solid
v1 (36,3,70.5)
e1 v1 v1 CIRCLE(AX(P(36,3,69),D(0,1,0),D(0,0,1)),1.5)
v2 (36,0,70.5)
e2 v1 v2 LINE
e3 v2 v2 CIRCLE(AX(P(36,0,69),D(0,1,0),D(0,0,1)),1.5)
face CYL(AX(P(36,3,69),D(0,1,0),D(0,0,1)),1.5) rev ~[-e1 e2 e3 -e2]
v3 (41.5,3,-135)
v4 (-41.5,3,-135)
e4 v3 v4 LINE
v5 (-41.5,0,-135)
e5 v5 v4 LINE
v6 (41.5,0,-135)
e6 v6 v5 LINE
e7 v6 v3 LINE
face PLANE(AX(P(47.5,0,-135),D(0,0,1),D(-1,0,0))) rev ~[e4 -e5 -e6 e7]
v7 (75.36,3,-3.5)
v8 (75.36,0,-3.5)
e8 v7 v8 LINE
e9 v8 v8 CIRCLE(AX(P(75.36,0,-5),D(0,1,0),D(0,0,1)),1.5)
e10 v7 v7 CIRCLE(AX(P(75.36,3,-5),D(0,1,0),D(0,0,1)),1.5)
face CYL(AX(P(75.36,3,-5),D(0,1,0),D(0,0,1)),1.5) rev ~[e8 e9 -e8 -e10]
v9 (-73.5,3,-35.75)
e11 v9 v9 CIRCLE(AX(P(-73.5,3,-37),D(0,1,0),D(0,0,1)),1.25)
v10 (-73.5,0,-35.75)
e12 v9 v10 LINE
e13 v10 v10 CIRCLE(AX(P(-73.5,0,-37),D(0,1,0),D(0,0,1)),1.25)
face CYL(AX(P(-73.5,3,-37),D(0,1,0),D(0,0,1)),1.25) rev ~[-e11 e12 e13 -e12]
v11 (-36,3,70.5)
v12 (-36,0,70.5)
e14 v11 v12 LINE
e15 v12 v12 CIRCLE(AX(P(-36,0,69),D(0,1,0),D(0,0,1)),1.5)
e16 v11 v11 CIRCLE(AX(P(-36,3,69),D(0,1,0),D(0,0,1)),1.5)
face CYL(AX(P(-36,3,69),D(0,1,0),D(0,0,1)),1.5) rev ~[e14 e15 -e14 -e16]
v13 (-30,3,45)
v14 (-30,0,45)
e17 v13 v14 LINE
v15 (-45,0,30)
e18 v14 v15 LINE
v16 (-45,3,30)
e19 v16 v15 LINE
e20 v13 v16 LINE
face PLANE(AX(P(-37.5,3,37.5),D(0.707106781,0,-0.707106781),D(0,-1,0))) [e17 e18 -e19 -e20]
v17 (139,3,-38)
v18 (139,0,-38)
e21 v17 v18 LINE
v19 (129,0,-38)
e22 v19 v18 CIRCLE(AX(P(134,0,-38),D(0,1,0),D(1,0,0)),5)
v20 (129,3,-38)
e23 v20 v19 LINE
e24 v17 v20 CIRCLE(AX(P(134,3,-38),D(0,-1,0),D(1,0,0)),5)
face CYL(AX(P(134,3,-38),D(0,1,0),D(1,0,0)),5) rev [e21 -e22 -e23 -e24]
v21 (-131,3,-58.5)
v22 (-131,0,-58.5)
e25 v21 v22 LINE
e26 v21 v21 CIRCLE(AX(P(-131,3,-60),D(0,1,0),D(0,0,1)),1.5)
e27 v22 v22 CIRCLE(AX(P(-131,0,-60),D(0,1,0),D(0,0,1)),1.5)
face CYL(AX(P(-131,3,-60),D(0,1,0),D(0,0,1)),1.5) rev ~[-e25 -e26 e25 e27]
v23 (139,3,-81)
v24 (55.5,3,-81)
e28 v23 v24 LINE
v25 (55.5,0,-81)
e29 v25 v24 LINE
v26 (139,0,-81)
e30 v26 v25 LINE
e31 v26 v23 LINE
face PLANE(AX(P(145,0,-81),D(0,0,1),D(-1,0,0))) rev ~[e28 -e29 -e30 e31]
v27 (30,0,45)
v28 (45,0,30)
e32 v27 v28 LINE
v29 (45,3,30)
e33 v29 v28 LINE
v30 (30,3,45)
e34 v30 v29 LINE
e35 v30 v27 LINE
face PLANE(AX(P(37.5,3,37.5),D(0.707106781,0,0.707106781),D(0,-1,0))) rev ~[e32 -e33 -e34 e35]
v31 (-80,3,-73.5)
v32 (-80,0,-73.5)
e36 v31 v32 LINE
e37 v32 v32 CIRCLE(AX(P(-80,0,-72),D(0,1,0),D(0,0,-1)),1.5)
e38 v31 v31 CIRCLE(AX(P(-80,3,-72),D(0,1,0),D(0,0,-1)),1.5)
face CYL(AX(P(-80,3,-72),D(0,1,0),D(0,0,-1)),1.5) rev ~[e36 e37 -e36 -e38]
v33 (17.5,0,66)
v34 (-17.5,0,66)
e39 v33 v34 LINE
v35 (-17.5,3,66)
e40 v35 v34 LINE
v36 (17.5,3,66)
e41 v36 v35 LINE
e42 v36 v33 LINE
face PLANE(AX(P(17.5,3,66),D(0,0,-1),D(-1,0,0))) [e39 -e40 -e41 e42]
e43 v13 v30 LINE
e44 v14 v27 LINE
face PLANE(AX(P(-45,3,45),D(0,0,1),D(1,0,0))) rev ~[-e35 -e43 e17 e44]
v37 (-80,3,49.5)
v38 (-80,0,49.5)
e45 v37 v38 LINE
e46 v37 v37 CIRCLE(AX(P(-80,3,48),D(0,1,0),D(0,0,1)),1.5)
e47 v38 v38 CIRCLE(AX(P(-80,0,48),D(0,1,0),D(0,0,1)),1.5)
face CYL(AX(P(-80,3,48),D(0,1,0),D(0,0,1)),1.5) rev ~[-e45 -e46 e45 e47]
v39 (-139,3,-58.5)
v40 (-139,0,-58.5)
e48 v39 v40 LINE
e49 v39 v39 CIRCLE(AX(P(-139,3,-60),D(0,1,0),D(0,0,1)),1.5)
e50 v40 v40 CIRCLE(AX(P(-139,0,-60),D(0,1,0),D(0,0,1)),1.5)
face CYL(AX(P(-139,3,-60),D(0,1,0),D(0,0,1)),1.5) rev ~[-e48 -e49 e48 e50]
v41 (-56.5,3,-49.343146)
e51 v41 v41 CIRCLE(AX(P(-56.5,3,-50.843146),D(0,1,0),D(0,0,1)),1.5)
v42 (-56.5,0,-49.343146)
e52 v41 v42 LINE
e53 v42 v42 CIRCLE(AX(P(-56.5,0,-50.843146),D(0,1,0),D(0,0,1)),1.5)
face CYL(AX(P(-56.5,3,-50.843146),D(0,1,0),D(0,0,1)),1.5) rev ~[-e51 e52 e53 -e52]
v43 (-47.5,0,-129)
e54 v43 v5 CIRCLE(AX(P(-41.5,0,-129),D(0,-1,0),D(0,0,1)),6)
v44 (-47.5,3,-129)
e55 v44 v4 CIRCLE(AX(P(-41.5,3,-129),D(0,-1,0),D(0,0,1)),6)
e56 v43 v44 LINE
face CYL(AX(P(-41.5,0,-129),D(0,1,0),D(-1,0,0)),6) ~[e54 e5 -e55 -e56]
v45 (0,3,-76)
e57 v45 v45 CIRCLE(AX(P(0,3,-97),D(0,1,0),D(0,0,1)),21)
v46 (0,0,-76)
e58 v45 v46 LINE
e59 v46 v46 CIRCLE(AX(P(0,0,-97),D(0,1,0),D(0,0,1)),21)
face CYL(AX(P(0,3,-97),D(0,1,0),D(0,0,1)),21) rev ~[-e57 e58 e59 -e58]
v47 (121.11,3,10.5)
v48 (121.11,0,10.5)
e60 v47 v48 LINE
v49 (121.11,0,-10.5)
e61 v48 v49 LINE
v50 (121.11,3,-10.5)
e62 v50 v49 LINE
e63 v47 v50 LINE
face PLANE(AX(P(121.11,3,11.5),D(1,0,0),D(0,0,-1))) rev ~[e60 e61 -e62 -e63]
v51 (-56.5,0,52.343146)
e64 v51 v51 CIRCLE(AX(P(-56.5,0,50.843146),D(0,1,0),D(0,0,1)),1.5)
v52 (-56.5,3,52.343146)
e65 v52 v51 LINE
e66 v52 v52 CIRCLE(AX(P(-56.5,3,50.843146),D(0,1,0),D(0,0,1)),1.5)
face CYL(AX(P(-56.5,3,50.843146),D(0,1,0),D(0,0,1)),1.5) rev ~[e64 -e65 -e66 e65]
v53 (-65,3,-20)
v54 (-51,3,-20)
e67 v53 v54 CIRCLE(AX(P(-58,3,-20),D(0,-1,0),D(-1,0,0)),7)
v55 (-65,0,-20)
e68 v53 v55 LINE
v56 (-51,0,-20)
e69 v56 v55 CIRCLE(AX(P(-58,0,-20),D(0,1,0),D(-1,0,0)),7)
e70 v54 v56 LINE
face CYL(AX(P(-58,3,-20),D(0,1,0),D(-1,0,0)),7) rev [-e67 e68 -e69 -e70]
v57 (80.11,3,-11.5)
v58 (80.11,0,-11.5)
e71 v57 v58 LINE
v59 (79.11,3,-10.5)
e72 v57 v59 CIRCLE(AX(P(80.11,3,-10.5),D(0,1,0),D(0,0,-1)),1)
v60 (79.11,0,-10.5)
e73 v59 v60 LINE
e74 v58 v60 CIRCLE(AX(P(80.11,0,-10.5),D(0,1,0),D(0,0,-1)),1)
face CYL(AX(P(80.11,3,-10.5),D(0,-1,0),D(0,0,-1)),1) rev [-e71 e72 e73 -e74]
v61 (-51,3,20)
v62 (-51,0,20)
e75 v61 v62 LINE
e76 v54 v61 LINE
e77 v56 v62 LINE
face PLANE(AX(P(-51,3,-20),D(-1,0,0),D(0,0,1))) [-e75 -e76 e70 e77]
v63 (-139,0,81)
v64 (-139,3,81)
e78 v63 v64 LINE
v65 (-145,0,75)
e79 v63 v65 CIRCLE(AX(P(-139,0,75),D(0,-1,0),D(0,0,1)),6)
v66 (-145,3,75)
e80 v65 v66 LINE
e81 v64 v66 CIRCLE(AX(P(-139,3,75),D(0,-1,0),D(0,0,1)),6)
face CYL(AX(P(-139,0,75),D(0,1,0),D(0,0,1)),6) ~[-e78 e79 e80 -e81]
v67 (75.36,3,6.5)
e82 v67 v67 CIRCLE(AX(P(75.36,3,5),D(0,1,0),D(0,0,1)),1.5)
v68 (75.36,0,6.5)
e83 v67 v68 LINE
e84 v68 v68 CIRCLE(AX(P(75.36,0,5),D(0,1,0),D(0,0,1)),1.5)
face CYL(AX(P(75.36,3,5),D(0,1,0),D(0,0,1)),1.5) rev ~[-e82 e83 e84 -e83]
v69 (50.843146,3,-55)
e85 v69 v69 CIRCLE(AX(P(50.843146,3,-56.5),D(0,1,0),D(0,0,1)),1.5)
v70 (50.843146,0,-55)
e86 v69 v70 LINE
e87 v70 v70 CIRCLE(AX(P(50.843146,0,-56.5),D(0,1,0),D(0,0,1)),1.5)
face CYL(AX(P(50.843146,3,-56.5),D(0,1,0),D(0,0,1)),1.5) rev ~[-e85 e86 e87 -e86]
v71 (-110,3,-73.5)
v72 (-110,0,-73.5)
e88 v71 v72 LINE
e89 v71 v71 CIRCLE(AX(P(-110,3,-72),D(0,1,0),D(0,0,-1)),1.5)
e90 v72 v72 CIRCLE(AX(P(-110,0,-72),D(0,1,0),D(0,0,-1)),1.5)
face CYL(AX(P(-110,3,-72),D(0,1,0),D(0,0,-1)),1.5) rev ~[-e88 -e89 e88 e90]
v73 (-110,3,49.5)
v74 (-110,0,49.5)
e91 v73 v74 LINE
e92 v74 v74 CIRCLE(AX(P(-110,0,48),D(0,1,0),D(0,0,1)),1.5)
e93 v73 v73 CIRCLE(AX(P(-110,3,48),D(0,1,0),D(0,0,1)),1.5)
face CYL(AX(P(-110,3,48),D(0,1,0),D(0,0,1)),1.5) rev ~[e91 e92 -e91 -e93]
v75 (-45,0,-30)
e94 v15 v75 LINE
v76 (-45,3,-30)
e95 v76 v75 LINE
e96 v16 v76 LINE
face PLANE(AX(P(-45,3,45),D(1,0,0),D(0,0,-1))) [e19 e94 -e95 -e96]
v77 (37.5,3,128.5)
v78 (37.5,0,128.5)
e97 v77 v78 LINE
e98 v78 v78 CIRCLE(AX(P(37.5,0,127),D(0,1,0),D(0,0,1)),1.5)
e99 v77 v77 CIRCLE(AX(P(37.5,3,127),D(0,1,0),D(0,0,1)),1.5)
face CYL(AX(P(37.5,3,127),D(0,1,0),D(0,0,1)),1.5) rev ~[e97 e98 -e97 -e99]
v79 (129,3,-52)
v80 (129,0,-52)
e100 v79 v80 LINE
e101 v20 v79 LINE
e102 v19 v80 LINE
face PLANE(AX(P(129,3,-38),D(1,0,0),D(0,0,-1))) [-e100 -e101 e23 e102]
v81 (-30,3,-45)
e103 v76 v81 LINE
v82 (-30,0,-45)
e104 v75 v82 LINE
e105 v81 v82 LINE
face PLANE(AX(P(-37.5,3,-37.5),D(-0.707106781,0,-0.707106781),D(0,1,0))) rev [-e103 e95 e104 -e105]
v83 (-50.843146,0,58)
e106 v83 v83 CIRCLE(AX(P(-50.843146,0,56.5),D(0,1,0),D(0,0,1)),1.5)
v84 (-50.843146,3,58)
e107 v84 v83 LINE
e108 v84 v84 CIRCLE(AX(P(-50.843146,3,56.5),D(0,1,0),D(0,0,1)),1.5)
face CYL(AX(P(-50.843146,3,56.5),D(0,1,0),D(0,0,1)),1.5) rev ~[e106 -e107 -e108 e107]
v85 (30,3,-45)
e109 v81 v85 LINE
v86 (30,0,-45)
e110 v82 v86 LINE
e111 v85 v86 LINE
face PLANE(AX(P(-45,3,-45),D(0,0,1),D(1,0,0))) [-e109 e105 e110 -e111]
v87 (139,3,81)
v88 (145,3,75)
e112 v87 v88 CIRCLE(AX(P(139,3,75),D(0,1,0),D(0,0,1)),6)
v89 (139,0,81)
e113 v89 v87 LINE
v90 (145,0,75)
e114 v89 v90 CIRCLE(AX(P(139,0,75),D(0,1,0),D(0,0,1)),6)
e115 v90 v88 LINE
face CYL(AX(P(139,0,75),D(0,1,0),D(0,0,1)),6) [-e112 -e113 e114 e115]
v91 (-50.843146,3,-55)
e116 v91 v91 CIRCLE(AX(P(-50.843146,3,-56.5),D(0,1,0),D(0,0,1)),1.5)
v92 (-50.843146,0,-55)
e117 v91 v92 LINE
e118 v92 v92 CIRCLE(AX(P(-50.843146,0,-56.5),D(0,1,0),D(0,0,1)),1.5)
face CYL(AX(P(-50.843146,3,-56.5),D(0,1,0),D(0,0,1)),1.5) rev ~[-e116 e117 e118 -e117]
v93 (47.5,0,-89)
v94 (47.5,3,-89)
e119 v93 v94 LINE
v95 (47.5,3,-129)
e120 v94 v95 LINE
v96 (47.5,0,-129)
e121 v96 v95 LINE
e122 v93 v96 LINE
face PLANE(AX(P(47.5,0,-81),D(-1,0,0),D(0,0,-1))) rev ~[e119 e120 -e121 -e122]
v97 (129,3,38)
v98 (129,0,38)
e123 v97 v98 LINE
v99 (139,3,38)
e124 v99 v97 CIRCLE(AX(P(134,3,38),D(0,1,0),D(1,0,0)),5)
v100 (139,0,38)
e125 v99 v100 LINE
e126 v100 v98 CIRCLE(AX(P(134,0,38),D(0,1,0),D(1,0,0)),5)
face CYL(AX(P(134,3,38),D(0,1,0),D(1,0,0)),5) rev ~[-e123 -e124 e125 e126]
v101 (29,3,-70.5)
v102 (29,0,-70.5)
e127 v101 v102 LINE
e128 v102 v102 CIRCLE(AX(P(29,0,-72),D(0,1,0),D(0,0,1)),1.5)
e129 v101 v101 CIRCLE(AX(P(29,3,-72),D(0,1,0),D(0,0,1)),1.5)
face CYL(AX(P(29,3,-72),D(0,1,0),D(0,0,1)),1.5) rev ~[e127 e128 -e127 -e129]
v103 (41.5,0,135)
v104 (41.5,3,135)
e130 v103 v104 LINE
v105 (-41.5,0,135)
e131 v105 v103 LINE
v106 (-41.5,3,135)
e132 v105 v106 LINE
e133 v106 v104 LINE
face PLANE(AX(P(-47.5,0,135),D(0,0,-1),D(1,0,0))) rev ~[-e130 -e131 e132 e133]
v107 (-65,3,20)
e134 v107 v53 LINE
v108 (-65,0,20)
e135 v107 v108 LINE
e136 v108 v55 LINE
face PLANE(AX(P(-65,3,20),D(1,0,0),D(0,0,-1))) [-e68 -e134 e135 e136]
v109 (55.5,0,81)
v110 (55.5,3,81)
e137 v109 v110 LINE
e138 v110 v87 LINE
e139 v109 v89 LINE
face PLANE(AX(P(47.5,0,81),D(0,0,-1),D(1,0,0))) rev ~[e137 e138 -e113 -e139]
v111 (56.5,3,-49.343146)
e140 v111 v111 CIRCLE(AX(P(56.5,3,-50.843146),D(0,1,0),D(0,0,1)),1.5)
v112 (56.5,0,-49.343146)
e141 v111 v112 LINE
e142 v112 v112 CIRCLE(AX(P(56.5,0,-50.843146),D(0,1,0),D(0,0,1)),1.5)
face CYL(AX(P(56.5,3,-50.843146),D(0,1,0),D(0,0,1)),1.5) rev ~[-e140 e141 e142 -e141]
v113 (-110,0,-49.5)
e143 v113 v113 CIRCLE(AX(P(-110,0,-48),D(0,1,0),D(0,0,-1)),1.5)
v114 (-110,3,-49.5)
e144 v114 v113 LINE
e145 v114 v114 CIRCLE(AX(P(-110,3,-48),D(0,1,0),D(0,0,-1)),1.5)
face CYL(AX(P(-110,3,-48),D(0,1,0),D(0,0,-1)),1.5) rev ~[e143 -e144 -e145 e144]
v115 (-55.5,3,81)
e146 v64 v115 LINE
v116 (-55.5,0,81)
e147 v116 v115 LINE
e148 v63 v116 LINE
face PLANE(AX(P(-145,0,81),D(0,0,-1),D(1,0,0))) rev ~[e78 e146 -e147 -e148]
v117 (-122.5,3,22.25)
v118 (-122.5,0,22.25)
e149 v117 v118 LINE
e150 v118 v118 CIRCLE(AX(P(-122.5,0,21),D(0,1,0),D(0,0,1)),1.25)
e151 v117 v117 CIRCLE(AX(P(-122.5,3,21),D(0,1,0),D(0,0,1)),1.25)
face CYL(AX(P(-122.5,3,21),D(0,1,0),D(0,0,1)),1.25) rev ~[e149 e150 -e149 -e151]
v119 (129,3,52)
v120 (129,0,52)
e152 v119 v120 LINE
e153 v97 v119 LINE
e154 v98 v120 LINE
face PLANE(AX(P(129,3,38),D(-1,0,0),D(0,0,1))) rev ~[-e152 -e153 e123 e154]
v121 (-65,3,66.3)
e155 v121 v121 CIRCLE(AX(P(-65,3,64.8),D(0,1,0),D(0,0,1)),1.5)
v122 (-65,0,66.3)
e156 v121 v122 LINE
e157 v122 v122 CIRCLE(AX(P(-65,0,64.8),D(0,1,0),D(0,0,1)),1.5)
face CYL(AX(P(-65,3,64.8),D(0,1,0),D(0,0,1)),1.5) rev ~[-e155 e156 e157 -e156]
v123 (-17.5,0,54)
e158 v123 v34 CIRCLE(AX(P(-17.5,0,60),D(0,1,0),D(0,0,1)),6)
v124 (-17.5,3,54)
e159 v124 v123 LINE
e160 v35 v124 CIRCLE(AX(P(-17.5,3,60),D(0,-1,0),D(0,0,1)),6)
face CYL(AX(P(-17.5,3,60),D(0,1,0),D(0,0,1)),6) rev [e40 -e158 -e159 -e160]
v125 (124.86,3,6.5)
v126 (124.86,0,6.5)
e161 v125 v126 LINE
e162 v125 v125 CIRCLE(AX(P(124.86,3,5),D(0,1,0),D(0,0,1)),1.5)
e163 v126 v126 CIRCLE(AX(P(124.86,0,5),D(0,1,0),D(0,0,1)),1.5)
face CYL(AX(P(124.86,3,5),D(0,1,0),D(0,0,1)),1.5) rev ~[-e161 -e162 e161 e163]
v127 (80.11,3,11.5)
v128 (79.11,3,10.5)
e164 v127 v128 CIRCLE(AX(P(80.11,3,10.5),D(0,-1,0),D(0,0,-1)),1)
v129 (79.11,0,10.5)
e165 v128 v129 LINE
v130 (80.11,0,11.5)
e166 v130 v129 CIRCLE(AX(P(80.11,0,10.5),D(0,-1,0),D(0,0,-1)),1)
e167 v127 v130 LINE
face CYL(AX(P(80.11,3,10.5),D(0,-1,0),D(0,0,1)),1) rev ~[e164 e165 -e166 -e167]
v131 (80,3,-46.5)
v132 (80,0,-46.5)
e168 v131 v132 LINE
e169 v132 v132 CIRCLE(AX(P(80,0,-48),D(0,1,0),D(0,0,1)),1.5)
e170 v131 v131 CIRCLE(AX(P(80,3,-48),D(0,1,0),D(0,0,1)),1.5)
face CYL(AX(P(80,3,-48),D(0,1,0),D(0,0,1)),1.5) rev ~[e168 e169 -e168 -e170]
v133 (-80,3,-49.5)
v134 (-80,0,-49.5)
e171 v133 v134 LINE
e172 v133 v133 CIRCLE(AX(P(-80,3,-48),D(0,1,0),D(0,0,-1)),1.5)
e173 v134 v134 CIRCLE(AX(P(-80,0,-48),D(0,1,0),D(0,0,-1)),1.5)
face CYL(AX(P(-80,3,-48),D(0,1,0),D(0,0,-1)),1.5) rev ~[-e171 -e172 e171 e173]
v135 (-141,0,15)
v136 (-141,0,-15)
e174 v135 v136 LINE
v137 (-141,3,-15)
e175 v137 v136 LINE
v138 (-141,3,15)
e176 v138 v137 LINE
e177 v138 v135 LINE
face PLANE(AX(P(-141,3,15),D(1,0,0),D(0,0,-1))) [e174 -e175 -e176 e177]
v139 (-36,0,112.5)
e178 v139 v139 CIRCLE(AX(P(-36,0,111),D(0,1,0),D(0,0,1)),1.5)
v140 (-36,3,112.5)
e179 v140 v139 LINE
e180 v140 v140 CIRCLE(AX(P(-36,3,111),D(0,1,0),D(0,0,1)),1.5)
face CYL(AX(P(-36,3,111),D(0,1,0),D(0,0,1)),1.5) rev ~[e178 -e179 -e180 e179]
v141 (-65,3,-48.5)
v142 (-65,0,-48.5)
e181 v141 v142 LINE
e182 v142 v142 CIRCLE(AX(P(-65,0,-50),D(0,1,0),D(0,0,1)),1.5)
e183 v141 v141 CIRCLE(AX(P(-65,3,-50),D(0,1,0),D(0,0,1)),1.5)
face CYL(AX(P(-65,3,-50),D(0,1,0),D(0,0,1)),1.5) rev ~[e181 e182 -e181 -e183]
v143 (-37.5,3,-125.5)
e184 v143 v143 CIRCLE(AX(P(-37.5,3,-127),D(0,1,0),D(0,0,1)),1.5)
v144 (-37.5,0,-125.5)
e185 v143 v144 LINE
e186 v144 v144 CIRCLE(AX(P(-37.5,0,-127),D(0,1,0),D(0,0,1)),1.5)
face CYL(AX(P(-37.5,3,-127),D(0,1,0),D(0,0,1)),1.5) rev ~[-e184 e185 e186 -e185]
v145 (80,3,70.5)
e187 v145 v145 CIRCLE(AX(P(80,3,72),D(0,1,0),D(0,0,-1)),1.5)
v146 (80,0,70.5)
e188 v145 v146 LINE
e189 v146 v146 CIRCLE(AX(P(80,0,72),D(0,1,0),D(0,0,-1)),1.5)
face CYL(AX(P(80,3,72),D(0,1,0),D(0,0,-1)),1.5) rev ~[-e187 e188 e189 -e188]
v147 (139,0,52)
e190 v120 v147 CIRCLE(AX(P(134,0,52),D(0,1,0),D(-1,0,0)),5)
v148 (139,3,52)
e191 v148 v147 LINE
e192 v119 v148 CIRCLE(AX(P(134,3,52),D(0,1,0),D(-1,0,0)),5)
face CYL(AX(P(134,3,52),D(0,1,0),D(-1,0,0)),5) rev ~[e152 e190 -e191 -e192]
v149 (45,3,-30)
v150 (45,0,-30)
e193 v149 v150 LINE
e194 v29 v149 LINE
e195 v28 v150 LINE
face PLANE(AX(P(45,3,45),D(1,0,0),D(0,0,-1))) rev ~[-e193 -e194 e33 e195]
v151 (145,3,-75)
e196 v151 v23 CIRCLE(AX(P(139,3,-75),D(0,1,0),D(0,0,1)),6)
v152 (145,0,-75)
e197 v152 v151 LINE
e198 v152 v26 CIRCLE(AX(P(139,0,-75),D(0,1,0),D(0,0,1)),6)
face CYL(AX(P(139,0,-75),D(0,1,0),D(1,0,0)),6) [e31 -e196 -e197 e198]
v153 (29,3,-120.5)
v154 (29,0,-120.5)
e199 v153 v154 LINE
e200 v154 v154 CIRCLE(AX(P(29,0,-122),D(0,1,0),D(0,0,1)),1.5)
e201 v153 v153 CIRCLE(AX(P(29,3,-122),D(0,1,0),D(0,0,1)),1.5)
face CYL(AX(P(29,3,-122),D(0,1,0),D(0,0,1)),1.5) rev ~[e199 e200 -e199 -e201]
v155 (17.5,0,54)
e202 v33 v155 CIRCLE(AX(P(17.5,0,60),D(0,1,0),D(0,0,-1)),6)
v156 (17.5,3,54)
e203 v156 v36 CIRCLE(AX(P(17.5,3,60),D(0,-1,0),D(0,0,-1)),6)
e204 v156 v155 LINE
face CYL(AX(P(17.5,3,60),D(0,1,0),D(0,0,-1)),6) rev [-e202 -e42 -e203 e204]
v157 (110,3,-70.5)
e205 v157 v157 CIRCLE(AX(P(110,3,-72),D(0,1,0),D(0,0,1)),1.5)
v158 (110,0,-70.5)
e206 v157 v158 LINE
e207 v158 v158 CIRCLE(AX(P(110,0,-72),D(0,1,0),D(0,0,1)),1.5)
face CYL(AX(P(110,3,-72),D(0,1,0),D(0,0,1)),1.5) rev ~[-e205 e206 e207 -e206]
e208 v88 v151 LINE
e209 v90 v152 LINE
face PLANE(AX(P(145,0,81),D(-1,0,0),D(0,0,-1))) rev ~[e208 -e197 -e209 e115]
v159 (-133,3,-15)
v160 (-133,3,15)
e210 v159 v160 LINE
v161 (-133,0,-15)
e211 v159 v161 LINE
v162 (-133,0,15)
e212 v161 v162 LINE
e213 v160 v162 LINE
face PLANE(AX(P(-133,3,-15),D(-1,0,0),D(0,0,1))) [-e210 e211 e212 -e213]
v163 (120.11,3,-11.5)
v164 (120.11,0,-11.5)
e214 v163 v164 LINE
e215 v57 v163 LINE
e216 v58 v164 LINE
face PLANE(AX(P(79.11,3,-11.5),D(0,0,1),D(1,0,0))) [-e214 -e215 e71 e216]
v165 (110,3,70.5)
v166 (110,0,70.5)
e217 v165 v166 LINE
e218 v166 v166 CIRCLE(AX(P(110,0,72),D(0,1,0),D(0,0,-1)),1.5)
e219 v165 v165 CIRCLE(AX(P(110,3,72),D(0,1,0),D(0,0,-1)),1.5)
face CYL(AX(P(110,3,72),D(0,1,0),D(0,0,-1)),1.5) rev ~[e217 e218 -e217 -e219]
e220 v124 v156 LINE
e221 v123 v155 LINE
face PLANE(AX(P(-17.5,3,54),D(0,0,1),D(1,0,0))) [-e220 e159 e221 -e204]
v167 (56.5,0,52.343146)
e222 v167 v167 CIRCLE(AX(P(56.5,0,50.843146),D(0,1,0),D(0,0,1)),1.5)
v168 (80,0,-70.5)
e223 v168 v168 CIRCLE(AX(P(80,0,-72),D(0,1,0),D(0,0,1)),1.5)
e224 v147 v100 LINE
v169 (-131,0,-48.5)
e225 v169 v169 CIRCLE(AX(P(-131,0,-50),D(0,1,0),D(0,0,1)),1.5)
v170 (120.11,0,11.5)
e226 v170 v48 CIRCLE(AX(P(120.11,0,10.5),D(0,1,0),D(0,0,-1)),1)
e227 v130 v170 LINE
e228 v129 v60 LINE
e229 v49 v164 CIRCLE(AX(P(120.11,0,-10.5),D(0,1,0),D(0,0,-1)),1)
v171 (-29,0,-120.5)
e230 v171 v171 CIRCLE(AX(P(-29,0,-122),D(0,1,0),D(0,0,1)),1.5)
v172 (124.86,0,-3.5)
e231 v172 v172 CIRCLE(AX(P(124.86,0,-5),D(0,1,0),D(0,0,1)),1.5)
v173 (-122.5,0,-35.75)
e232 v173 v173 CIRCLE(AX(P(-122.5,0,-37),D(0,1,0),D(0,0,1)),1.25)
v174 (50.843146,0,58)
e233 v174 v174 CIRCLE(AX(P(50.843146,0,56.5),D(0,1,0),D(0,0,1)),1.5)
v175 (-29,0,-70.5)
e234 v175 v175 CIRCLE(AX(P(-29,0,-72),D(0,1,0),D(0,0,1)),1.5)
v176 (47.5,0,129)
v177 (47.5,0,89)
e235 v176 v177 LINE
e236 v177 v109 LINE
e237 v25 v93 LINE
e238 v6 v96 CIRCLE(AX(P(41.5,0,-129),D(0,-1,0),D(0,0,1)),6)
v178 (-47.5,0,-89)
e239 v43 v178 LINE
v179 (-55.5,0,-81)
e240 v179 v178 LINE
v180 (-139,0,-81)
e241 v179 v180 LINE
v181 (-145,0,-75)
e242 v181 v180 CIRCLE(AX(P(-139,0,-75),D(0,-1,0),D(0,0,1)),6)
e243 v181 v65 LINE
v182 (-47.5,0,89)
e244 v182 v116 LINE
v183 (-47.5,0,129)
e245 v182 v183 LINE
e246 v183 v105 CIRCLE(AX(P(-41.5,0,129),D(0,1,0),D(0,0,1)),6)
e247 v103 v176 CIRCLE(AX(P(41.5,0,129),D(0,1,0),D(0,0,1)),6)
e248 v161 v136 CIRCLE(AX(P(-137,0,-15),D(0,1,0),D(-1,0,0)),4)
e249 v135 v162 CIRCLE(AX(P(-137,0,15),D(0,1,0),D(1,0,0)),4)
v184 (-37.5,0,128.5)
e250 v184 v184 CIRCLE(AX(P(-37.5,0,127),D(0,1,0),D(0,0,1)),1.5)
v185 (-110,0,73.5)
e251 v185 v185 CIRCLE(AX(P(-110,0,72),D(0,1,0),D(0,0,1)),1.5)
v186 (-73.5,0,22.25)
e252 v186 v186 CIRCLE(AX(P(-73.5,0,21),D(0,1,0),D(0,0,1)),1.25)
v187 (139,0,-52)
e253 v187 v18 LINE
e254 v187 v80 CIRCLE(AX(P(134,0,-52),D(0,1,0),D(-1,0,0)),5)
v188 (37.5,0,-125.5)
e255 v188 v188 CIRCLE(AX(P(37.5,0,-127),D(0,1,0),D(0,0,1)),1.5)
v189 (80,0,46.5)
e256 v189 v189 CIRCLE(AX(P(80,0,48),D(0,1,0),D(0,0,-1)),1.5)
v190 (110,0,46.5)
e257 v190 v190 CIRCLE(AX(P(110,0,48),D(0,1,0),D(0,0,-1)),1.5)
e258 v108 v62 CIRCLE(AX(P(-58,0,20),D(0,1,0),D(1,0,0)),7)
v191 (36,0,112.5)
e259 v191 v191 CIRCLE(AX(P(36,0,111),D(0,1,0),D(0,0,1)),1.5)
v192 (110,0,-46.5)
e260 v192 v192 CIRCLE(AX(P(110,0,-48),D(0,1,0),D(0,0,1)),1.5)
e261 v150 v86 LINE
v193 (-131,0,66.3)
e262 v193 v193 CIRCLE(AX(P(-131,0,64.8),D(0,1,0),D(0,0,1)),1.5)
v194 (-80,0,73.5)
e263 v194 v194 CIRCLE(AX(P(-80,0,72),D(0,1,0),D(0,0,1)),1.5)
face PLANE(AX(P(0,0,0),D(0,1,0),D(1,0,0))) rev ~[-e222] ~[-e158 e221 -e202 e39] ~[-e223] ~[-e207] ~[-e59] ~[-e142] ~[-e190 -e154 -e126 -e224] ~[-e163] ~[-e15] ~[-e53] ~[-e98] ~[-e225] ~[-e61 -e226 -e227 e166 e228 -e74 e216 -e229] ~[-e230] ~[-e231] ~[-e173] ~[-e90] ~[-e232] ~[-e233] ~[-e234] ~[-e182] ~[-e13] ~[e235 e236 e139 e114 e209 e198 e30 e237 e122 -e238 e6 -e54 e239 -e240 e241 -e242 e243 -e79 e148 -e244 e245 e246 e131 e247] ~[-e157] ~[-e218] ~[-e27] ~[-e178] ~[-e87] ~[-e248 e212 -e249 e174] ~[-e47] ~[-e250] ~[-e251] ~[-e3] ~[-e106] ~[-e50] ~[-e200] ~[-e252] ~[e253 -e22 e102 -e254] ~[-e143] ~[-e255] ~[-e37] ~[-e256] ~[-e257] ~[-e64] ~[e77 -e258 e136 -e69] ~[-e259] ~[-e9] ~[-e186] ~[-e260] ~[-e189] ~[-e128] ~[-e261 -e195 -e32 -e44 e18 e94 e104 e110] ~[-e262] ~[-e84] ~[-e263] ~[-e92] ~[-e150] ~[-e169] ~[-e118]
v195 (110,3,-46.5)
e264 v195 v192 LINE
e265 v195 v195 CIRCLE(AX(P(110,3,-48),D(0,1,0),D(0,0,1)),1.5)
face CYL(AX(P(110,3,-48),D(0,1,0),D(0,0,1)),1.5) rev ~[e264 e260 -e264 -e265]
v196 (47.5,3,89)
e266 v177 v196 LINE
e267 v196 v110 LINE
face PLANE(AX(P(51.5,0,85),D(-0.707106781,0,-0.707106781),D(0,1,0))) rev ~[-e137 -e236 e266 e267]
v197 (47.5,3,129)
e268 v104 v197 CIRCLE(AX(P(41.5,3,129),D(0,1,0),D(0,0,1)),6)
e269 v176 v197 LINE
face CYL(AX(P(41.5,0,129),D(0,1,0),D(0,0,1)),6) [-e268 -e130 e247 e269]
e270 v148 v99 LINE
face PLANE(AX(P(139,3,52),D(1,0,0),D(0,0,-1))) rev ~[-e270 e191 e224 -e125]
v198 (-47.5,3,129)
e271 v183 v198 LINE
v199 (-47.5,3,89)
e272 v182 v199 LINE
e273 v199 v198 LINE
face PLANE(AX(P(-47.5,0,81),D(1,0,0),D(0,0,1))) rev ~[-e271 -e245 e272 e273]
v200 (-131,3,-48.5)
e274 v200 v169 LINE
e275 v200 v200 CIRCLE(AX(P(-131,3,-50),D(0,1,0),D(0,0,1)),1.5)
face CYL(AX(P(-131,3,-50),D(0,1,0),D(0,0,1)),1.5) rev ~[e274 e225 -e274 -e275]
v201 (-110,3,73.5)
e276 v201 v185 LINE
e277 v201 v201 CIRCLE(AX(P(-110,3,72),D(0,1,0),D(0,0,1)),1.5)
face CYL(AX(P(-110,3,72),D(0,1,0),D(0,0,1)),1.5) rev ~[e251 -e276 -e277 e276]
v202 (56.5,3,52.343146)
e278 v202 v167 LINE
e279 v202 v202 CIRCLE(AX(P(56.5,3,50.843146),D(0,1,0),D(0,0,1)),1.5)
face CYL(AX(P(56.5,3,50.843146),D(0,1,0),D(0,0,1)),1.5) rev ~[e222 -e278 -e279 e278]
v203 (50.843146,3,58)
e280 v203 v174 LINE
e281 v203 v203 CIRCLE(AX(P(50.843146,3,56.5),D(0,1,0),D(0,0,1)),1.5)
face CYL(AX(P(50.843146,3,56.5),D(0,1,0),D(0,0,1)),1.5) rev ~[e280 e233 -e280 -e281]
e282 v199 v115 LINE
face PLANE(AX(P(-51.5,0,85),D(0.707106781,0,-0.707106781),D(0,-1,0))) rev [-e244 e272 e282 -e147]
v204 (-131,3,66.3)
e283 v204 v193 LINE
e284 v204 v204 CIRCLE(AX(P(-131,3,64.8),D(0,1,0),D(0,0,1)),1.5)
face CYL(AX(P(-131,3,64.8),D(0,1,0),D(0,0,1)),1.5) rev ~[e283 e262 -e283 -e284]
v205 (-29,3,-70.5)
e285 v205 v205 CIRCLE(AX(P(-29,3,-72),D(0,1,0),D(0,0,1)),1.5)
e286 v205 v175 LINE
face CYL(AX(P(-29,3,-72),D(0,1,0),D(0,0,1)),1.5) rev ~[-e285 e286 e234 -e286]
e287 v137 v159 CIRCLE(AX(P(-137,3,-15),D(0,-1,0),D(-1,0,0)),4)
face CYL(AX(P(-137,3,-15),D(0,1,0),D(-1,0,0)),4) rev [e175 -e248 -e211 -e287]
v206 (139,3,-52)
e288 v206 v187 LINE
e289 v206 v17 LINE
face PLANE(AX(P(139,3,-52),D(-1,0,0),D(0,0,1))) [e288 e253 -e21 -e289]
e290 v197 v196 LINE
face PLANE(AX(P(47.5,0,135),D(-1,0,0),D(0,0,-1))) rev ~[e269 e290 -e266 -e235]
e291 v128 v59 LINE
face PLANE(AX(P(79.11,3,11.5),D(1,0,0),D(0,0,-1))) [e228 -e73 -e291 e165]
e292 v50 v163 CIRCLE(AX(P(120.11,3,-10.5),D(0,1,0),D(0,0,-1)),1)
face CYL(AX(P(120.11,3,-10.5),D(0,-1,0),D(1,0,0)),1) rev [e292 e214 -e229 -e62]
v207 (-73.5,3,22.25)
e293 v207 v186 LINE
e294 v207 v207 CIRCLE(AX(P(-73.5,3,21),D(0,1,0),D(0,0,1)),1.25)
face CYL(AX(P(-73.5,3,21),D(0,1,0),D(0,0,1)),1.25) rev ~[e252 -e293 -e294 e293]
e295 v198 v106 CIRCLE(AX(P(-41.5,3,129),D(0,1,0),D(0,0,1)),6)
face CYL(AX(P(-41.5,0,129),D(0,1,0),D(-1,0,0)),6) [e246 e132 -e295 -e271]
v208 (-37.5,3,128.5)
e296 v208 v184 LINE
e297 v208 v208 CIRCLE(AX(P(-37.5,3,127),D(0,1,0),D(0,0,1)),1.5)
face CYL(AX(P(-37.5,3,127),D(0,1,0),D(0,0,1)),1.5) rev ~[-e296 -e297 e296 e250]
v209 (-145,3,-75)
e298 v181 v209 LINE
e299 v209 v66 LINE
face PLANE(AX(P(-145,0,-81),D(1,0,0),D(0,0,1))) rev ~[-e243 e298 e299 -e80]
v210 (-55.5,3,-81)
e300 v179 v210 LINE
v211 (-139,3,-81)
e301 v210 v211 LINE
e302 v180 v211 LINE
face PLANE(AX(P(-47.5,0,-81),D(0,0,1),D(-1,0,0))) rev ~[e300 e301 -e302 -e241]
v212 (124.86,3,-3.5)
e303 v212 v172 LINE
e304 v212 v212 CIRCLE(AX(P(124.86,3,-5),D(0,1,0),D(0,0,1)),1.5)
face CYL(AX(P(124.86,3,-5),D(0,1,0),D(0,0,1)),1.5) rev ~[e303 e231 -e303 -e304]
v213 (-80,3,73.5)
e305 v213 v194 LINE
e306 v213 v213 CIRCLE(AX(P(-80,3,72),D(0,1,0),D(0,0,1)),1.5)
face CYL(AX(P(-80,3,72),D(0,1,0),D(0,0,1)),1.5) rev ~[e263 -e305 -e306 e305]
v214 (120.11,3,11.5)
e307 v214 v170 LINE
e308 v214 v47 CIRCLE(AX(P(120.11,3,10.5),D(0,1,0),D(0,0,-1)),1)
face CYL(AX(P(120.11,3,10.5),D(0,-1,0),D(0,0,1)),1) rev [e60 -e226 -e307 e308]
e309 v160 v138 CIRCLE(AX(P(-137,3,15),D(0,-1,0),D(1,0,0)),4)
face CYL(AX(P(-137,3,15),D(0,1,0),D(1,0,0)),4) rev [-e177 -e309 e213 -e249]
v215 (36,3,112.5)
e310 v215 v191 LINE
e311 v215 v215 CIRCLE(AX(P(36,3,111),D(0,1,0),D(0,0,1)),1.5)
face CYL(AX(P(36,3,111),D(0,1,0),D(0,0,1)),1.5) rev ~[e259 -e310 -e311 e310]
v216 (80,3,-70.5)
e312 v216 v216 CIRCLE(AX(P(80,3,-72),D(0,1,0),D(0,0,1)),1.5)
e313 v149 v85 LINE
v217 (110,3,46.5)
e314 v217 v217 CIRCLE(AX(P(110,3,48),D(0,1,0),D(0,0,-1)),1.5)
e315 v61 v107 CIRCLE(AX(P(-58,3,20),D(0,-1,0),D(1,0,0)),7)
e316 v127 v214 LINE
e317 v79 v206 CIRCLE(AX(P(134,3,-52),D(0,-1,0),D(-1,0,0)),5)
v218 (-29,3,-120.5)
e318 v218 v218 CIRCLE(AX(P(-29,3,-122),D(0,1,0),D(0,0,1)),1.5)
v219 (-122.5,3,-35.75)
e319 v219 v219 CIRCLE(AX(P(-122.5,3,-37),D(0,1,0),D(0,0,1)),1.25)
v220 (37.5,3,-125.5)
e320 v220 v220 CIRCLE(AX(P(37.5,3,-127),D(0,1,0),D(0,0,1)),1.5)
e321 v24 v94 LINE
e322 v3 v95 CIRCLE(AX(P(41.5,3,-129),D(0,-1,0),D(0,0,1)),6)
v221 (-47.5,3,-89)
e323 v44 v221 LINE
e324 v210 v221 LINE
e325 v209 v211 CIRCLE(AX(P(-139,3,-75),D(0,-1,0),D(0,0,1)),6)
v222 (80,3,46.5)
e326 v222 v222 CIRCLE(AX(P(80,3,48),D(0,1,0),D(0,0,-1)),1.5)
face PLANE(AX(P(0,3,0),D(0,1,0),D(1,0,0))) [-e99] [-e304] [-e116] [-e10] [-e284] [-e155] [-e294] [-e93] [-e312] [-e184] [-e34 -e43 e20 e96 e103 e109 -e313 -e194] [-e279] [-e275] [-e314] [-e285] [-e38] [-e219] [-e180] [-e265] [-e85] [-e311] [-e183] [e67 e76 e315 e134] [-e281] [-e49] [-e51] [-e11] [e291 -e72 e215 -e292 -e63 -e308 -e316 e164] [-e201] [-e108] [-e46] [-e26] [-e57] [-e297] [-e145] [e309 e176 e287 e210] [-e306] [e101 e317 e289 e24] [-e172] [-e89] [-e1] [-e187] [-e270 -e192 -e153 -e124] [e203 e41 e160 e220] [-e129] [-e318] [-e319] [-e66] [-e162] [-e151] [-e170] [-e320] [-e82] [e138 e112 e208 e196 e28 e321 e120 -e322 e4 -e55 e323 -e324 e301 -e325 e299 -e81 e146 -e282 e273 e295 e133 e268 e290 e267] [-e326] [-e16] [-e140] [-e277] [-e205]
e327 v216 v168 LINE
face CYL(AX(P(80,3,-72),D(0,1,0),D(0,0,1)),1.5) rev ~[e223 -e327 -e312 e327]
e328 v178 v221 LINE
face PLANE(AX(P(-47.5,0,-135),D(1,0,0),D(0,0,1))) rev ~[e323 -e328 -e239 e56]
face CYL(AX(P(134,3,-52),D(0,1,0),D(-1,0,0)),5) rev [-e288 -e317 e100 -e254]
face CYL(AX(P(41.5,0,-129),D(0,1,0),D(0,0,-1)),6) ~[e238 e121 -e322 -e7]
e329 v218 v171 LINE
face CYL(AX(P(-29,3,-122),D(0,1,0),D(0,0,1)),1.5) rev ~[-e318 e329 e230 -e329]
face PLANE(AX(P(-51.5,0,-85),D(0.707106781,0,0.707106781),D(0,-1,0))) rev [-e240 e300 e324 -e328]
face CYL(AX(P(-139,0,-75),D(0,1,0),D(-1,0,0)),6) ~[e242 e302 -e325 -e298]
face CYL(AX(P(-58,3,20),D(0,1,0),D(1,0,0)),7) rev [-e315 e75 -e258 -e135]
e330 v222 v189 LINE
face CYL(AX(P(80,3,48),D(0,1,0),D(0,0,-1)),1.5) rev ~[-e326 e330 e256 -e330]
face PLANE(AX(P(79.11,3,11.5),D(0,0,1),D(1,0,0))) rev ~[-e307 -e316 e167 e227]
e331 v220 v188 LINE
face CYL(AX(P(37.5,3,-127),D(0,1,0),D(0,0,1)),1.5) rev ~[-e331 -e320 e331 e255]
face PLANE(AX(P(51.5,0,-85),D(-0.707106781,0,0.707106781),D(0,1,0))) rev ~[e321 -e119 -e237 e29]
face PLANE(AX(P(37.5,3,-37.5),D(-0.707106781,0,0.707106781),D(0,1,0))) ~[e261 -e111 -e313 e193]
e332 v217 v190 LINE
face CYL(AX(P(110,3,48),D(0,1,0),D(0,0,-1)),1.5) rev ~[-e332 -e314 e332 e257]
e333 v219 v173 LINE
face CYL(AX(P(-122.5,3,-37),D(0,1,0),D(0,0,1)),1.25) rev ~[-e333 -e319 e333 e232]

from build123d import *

# Parameters (mm, degrees)
EXTRUDE_1_DEPTH      = 3
SKETCH_2_R           = 1.5
CUT_EXTRUDE_1_DEPTH  = 3
SKETCH_3_R           = 21
SKETCH_3_R_2         = 1.5
CUT_EXTRUDE_2_DEPTH  = 10
SKETCH_4_W           = 90
SKETCH_4_H           = 90
CUT_EXTRUDE_3_DEPTH  = 3
FILLET_3_R           = 6
CHAMFER_1_SIZE       = 8
CUT_EXTRUDE_6_DEPTH  = 10
CHAMFER_2_SIZE       = 15
SKETCH_8_R           = 1.5
CUT_EXTRUDE_7_DEPTH  = 10
SKETCH_9_R           = 1.5
CUT_EXTRUDE_8_DEPTH  = 10
CUT_EXTRUDE_9_DEPTH  = 10
SKETCH_14_R          = 1.5
CUT_EXTRUDE_10_DEPTH = 10
SKETCH_15_R          = 1.5
SKETCH_15_W          = 42
SKETCH_15_H          = 23
CUT_EXTRUDE_11_DEPTH = 10
FILLET_4_R           = 1
SKETCH_16_R          = 1.25
CUT_EXTRUDE_12_DEPTH = 10
SKETCH_19_R          = 1.5
CUT_EXTRUDE_13_DEPTH = 10


with BuildPart() as part:
    # 草图1 → 凸台-拉伸1 (new body)
    with BuildSketch(Plane(origin=(0, 0, 0), x_dir=(1, 0, 0), z_dir=(0, 1, 0))):
        Polygon((-47.5, -81), (-47.5, -135), (47.5, -135), (47.5, -81), (145, -81), (145, 81), (47.5, 81), (47.5, 135), (-47.5, 135), (-47.5, 81), (-145, 81), (-145, -81), align=None)
    extrude(amount=EXTRUDE_1_DEPTH)

    # 草图2 → 切除-拉伸1 (cut)
    with BuildSketch(Plane(origin=(0, 3, 0), x_dir=(1, 0, 0), z_dir=(0, 1, 0))):
        with Locations(Location((110, 72, 0), (0, 0, 270))):
            Circle(SKETCH_2_R)
        with Locations(Location((80, 72, 0), (0, 0, 270))):
            Circle(SKETCH_2_R)
        with Locations(Location((80, 48, 0), (0, 0, 270))):
            Circle(SKETCH_2_R)
        with Locations(Location((110, 48, 0), (0, 0, 270))):
            Circle(SKETCH_2_R)
        with Locations(Location((110, -48, 0), (0, 0, 90))):
            Circle(SKETCH_2_R)
        with Locations(Location((110, -72, 0), (0, 0, 90))):
            Circle(SKETCH_2_R)
        with Locations(Location((80, -48, 0), (0, 0, 90))):
            Circle(SKETCH_2_R)
        with Locations(Location((80, -72, 0), (0, 0, 90))):
            Circle(SKETCH_2_R)
        with Locations(Location((-80, -72, 0), (0, 0, 270))):
            Circle(SKETCH_2_R)
        with Locations(Location((-80, -48, 0), (0, 0, 270))):
            Circle(SKETCH_2_R)
        with Locations(Location((-110, -72, 0), (0, 0, 270))):
            Circle(SKETCH_2_R)
        with Locations(Location((-110, -48, 0), (0, 0, 270))):
            Circle(SKETCH_2_R)
        with Locations(Location((-110, 48, 0), (0, 0, 90))):
            Circle(SKETCH_2_R)
        with Locations(Location((-80, 48, 0), (0, 0, 90))):
            Circle(SKETCH_2_R)
        with Locations(Location((-80, 72, 0), (0, 0, 90))):
            Circle(SKETCH_2_R)
        with Locations(Location((-110, 72, 0), (0, 0, 90))):
            Circle(SKETCH_2_R)
    extrude(amount=-CUT_EXTRUDE_1_DEPTH, mode=Mode.SUBTRACT)

    # 草图3 → 切除-拉伸2 (cut)
    with BuildSketch(Plane(origin=(0, 3, 0), x_dir=(1, 0, 0), z_dir=(0, 1, 0))):
        with Locations(Location((0, 97, 0), (0, 0, 270))):
            Circle(SKETCH_3_R)
        with Locations(Location((29, 122, 0), (0, 0, 270))):
            Circle(SKETCH_3_R_2)
        with Locations(Location((29, 72, 0), (0, 0, 270))):
            Circle(SKETCH_3_R_2)
        with Locations(Location((-29, 72, 0), (0, 0, 270))):
            Circle(SKETCH_3_R_2)
        with Locations(Location((-29, 122, 0), (0, 0, 270))):
            Circle(SKETCH_3_R_2)
    extrude(amount=-CUT_EXTRUDE_2_DEPTH, mode=Mode.SUBTRACT)

    # 草图4 → 切除-拉伸3 (cut)
    with BuildSketch(Plane(origin=(0, 3, 0), x_dir=(1, 0, 0), z_dir=(0, 1, 0))):
        Rectangle(SKETCH_4_W, SKETCH_4_H)
    extrude(amount=-CUT_EXTRUDE_3_DEPTH, mode=Mode.SUBTRACT)

    # 圆角3
    fillet_3_edges = [part.edges().sort_by_distance(p)[0] for p in [
        (-145, 1.5, 81),
        (-145, 1.5, -81),
        (-47.5, 1.5, -135),
        (47.5, 1.5, -135),
        (145, 1.5, -81),
        (145, 1.5, 81),
        (47.5, 1.5, 135),
        (-47.5, 1.5, 135),
    ]]
    fillet(fillet_3_edges, radius=FILLET_3_R)

    # 倒角1
    chamfer_1_edges = [part.edges().sort_by_distance(p)[0] for p in [
        (-47.5, 1.5, 81),
        (-47.5, 1.5, -81),
        (47.5, 1.5, -81),
        (47.5, 1.5, 81),
    ]]
    chamfer(chamfer_1_edges, length=CHAMFER_1_SIZE)

    # 草图7 → 切除-拉伸6 (cut)
    with BuildSketch(Plane(origin=(0, 3, 0), x_dir=(1, 0, 0), z_dir=(0, 1, 0))):
        with BuildLine():
            Line((-65, -20), (-65, 20))
            ThreePointArc((-65, 20), (-58, 27), (-51, 20))
            Line((-51, 20), (-51, -20))
            ThreePointArc((-51, -20), (-58, -27), (-65, -20))
        make_face()
        with BuildLine():
            Line((-141, -15), (-141, 15))
            ThreePointArc((-141, 15), (-137, 19), (-133, 15))
            Line((-133, 15), (-133, -15))
            ThreePointArc((-133, -15), (-137, -19), (-141, -15))
        make_face()
        with BuildLine():
            Line((129, 38), (129, 52))
            ThreePointArc((129, 52), (134, 57), (139, 52))
            Line((139, 52), (139, 38))
            ThreePointArc((139, 38), (134, 33), (129, 38))
        make_face()
        with BuildLine():
            Line((129, -38), (129, -52))
            ThreePointArc((129, -52), (134, -57), (139, -52))
            Line((139, -52), (139, -38))
            ThreePointArc((139, -38), (134, -33), (129, -38))
        make_face()
    extrude(amount=-CUT_EXTRUDE_6_DEPTH, mode=Mode.SUBTRACT)

    # 倒角2
    chamfer_2_edges = [part.edges().sort_by_distance(p)[0] for p in [
        (45, 1.5, -45),
        (45, 1.5, 45),
        (-45, 1.5, 45),
        (-45, 1.5, -45),
    ]]
    chamfer(chamfer_2_edges, length=CHAMFER_2_SIZE)

    # 草图8 → 切除-拉伸7 (cut)
    with BuildSketch(Plane(origin=(0, 3, 0), x_dir=(1, 0, 0), z_dir=(0, 1, 0))):
        with Locations(Location((-139, 60, 0), (0, 0, 270))):
            Circle(SKETCH_8_R)
        with Locations(Location((-131, 60, 0), (0, 0, 270))):
            Circle(SKETCH_8_R)
    extrude(amount=-CUT_EXTRUDE_7_DEPTH, mode=Mode.SUBTRACT)

    # 草图9 → 切除-拉伸8 (cut)
    with BuildSketch(Plane(origin=(0, 3, 0), x_dir=(1, 0, 0), z_dir=(0, 1, 0))):
        with Locations(Location((50.843145751, 56.5, 0), (0, 0, 270))):
            Circle(SKETCH_9_R)
        with Locations(Location((56.5, 50.843145751, 0), (0, 0, 270))):
            Circle(SKETCH_9_R)
        with Locations(Location((56.5, -50.843145751, 0), (0, 0, 270))):
            Circle(SKETCH_9_R)
        with Locations(Location((50.843145751, -56.5, 0), (0, 0, 270))):
            Circle(SKETCH_9_R)
        with Locations(Location((-50.843145751, -56.5, 0), (0, 0, 270))):
            Circle(SKETCH_9_R)
        with Locations(Location((-56.5, -50.843145751, 0), (0, 0, 270))):
            Circle(SKETCH_9_R)
        with Locations(Location((-56.5, 50.843145751, 0), (0, 0, 270))):
            Circle(SKETCH_9_R)
        with Locations(Location((-50.843145751, 56.5, 0), (0, 0, 270))):
            Circle(SKETCH_9_R)
        with Locations(Location((-37.5, -127, 0), (0, 0, 270))):
            Circle(SKETCH_9_R)
        with Locations(Location((37.5, -127, 0), (0, 0, 270))):
            Circle(SKETCH_9_R)
        with Locations(Location((37.5, 127, 0), (0, 0, 270))):
            Circle(SKETCH_9_R)
        with Locations(Location((-37.5, 127, 0), (0, 0, 270))):
            Circle(SKETCH_9_R)
    extrude(amount=-CUT_EXTRUDE_8_DEPTH, mode=Mode.SUBTRACT)

    # 草图12 → 切除-拉伸9 (cut)
    with BuildSketch(Plane(origin=(0, 3, 0), x_dir=(1, 0, 0), z_dir=(0, 1, 0))):
        with BuildLine():
            Line((-17.5, -54), (17.5, -54))
            ThreePointArc((17.5, -54), (23.5, -60), (17.5, -66))
            Line((17.5, -66), (-17.5, -66))
            ThreePointArc((-17.5, -66), (-23.5, -60), (-17.5, -54))
        make_face()
    extrude(amount=-CUT_EXTRUDE_9_DEPTH, mode=Mode.SUBTRACT)

    # 草图14 → 切除-拉伸10 (cut)
    with BuildSketch(Plane(origin=(0, 3, 0), x_dir=(1, 0, 0), z_dir=(0, 1, 0))):
        with Locations(Location((36, -69, 0), (0, 0, 270))):
            Circle(SKETCH_14_R)
        with Locations(Location((36, -111, 0), (0, 0, 270))):
            Circle(SKETCH_14_R)
        with Locations(Location((-36, -111, 0), (0, 0, 270))):
            Circle(SKETCH_14_R)
        with Locations(Location((-36, -69, 0), (0, 0, 270))):
            Circle(SKETCH_14_R)
    extrude(amount=-CUT_EXTRUDE_10_DEPTH, mode=Mode.SUBTRACT)

    # 草图15 → 切除-拉伸11 (cut)
    with BuildSketch(Plane(origin=(0, 3, 0), x_dir=(1, 0, 0), z_dir=(0, 1, 0))):
        with Locations(Location((75.36, 5, 0), (0, 0, 270))):
            Circle(SKETCH_15_R)
        with Locations(Location((75.36, -5, 0), (0, 0, 270))):
            Circle(SKETCH_15_R)
        with Locations(Location((124.86, -5, 0), (0, 0, 270))):
            Circle(SKETCH_15_R)
        with Locations(Location((124.86, 5, 0), (0, 0, 270))):
            Circle(SKETCH_15_R)
        with Locations((100.11, 0)):
            Rectangle(SKETCH_15_W, SKETCH_15_H)
    extrude(amount=-CUT_EXTRUDE_11_DEPTH, mode=Mode.SUBTRACT)

    # 圆角4
    fillet_4_edges = [part.edges().sort_by_distance(p)[0] for p in [
        (121.11, 1.5, -11.5),
        (121.11, 1.5, 11.5),
        (79.11, 1.5, 11.5),
        (79.11, 1.5, -11.5),
    ]]
    fillet(fillet_4_edges, radius=FILLET_4_R)

    # 草图16 → 切除-拉伸12 (cut)
    with BuildSketch(Plane(origin=(0, 3, 0), x_dir=(1, 0, 0), z_dir=(0, 1, 0))):
        with Locations(Location((-73.5, 37, 0), (0, 0, 270))):
            Circle(SKETCH_16_R)
        with Locations(Location((-122.5, 37, 0), (0, 0, 270))):
            Circle(SKETCH_16_R)
        with Locations(Location((-73.5, -21, 0), (0, 0, 270))):
            Circle(SKETCH_16_R)
        with Locations(Location((-122.5, -21, 0), (0, 0, 270))):
            Circle(SKETCH_16_R)
    extrude(amount=-CUT_EXTRUDE_12_DEPTH, mode=Mode.SUBTRACT)

    # 草图19 → 切除-拉伸13 (cut)
    with BuildSketch(Plane(origin=(0, 3, 0), x_dir=(1, 0, 0), z_dir=(0, 1, 0))):
        with Locations(Location((-65, 50, 0), (0, 0, 270))):
            Circle(SKETCH_19_R)
        with Locations(Location((-131, 50, 0), (0, 0, 270))):
            Circle(SKETCH_19_R)
        with Locations(Location((-65, -64.8, 0), (0, 0, 270))):
            Circle(SKETCH_19_R)
        with Locations(Location((-131, -64.8, 0), (0, 0, 270))):
            Circle(SKETCH_19_R)
    extrude(amount=-CUT_EXTRUDE_13_DEPTH, mode=Mode.SUBTRACT)


solid = part.part
